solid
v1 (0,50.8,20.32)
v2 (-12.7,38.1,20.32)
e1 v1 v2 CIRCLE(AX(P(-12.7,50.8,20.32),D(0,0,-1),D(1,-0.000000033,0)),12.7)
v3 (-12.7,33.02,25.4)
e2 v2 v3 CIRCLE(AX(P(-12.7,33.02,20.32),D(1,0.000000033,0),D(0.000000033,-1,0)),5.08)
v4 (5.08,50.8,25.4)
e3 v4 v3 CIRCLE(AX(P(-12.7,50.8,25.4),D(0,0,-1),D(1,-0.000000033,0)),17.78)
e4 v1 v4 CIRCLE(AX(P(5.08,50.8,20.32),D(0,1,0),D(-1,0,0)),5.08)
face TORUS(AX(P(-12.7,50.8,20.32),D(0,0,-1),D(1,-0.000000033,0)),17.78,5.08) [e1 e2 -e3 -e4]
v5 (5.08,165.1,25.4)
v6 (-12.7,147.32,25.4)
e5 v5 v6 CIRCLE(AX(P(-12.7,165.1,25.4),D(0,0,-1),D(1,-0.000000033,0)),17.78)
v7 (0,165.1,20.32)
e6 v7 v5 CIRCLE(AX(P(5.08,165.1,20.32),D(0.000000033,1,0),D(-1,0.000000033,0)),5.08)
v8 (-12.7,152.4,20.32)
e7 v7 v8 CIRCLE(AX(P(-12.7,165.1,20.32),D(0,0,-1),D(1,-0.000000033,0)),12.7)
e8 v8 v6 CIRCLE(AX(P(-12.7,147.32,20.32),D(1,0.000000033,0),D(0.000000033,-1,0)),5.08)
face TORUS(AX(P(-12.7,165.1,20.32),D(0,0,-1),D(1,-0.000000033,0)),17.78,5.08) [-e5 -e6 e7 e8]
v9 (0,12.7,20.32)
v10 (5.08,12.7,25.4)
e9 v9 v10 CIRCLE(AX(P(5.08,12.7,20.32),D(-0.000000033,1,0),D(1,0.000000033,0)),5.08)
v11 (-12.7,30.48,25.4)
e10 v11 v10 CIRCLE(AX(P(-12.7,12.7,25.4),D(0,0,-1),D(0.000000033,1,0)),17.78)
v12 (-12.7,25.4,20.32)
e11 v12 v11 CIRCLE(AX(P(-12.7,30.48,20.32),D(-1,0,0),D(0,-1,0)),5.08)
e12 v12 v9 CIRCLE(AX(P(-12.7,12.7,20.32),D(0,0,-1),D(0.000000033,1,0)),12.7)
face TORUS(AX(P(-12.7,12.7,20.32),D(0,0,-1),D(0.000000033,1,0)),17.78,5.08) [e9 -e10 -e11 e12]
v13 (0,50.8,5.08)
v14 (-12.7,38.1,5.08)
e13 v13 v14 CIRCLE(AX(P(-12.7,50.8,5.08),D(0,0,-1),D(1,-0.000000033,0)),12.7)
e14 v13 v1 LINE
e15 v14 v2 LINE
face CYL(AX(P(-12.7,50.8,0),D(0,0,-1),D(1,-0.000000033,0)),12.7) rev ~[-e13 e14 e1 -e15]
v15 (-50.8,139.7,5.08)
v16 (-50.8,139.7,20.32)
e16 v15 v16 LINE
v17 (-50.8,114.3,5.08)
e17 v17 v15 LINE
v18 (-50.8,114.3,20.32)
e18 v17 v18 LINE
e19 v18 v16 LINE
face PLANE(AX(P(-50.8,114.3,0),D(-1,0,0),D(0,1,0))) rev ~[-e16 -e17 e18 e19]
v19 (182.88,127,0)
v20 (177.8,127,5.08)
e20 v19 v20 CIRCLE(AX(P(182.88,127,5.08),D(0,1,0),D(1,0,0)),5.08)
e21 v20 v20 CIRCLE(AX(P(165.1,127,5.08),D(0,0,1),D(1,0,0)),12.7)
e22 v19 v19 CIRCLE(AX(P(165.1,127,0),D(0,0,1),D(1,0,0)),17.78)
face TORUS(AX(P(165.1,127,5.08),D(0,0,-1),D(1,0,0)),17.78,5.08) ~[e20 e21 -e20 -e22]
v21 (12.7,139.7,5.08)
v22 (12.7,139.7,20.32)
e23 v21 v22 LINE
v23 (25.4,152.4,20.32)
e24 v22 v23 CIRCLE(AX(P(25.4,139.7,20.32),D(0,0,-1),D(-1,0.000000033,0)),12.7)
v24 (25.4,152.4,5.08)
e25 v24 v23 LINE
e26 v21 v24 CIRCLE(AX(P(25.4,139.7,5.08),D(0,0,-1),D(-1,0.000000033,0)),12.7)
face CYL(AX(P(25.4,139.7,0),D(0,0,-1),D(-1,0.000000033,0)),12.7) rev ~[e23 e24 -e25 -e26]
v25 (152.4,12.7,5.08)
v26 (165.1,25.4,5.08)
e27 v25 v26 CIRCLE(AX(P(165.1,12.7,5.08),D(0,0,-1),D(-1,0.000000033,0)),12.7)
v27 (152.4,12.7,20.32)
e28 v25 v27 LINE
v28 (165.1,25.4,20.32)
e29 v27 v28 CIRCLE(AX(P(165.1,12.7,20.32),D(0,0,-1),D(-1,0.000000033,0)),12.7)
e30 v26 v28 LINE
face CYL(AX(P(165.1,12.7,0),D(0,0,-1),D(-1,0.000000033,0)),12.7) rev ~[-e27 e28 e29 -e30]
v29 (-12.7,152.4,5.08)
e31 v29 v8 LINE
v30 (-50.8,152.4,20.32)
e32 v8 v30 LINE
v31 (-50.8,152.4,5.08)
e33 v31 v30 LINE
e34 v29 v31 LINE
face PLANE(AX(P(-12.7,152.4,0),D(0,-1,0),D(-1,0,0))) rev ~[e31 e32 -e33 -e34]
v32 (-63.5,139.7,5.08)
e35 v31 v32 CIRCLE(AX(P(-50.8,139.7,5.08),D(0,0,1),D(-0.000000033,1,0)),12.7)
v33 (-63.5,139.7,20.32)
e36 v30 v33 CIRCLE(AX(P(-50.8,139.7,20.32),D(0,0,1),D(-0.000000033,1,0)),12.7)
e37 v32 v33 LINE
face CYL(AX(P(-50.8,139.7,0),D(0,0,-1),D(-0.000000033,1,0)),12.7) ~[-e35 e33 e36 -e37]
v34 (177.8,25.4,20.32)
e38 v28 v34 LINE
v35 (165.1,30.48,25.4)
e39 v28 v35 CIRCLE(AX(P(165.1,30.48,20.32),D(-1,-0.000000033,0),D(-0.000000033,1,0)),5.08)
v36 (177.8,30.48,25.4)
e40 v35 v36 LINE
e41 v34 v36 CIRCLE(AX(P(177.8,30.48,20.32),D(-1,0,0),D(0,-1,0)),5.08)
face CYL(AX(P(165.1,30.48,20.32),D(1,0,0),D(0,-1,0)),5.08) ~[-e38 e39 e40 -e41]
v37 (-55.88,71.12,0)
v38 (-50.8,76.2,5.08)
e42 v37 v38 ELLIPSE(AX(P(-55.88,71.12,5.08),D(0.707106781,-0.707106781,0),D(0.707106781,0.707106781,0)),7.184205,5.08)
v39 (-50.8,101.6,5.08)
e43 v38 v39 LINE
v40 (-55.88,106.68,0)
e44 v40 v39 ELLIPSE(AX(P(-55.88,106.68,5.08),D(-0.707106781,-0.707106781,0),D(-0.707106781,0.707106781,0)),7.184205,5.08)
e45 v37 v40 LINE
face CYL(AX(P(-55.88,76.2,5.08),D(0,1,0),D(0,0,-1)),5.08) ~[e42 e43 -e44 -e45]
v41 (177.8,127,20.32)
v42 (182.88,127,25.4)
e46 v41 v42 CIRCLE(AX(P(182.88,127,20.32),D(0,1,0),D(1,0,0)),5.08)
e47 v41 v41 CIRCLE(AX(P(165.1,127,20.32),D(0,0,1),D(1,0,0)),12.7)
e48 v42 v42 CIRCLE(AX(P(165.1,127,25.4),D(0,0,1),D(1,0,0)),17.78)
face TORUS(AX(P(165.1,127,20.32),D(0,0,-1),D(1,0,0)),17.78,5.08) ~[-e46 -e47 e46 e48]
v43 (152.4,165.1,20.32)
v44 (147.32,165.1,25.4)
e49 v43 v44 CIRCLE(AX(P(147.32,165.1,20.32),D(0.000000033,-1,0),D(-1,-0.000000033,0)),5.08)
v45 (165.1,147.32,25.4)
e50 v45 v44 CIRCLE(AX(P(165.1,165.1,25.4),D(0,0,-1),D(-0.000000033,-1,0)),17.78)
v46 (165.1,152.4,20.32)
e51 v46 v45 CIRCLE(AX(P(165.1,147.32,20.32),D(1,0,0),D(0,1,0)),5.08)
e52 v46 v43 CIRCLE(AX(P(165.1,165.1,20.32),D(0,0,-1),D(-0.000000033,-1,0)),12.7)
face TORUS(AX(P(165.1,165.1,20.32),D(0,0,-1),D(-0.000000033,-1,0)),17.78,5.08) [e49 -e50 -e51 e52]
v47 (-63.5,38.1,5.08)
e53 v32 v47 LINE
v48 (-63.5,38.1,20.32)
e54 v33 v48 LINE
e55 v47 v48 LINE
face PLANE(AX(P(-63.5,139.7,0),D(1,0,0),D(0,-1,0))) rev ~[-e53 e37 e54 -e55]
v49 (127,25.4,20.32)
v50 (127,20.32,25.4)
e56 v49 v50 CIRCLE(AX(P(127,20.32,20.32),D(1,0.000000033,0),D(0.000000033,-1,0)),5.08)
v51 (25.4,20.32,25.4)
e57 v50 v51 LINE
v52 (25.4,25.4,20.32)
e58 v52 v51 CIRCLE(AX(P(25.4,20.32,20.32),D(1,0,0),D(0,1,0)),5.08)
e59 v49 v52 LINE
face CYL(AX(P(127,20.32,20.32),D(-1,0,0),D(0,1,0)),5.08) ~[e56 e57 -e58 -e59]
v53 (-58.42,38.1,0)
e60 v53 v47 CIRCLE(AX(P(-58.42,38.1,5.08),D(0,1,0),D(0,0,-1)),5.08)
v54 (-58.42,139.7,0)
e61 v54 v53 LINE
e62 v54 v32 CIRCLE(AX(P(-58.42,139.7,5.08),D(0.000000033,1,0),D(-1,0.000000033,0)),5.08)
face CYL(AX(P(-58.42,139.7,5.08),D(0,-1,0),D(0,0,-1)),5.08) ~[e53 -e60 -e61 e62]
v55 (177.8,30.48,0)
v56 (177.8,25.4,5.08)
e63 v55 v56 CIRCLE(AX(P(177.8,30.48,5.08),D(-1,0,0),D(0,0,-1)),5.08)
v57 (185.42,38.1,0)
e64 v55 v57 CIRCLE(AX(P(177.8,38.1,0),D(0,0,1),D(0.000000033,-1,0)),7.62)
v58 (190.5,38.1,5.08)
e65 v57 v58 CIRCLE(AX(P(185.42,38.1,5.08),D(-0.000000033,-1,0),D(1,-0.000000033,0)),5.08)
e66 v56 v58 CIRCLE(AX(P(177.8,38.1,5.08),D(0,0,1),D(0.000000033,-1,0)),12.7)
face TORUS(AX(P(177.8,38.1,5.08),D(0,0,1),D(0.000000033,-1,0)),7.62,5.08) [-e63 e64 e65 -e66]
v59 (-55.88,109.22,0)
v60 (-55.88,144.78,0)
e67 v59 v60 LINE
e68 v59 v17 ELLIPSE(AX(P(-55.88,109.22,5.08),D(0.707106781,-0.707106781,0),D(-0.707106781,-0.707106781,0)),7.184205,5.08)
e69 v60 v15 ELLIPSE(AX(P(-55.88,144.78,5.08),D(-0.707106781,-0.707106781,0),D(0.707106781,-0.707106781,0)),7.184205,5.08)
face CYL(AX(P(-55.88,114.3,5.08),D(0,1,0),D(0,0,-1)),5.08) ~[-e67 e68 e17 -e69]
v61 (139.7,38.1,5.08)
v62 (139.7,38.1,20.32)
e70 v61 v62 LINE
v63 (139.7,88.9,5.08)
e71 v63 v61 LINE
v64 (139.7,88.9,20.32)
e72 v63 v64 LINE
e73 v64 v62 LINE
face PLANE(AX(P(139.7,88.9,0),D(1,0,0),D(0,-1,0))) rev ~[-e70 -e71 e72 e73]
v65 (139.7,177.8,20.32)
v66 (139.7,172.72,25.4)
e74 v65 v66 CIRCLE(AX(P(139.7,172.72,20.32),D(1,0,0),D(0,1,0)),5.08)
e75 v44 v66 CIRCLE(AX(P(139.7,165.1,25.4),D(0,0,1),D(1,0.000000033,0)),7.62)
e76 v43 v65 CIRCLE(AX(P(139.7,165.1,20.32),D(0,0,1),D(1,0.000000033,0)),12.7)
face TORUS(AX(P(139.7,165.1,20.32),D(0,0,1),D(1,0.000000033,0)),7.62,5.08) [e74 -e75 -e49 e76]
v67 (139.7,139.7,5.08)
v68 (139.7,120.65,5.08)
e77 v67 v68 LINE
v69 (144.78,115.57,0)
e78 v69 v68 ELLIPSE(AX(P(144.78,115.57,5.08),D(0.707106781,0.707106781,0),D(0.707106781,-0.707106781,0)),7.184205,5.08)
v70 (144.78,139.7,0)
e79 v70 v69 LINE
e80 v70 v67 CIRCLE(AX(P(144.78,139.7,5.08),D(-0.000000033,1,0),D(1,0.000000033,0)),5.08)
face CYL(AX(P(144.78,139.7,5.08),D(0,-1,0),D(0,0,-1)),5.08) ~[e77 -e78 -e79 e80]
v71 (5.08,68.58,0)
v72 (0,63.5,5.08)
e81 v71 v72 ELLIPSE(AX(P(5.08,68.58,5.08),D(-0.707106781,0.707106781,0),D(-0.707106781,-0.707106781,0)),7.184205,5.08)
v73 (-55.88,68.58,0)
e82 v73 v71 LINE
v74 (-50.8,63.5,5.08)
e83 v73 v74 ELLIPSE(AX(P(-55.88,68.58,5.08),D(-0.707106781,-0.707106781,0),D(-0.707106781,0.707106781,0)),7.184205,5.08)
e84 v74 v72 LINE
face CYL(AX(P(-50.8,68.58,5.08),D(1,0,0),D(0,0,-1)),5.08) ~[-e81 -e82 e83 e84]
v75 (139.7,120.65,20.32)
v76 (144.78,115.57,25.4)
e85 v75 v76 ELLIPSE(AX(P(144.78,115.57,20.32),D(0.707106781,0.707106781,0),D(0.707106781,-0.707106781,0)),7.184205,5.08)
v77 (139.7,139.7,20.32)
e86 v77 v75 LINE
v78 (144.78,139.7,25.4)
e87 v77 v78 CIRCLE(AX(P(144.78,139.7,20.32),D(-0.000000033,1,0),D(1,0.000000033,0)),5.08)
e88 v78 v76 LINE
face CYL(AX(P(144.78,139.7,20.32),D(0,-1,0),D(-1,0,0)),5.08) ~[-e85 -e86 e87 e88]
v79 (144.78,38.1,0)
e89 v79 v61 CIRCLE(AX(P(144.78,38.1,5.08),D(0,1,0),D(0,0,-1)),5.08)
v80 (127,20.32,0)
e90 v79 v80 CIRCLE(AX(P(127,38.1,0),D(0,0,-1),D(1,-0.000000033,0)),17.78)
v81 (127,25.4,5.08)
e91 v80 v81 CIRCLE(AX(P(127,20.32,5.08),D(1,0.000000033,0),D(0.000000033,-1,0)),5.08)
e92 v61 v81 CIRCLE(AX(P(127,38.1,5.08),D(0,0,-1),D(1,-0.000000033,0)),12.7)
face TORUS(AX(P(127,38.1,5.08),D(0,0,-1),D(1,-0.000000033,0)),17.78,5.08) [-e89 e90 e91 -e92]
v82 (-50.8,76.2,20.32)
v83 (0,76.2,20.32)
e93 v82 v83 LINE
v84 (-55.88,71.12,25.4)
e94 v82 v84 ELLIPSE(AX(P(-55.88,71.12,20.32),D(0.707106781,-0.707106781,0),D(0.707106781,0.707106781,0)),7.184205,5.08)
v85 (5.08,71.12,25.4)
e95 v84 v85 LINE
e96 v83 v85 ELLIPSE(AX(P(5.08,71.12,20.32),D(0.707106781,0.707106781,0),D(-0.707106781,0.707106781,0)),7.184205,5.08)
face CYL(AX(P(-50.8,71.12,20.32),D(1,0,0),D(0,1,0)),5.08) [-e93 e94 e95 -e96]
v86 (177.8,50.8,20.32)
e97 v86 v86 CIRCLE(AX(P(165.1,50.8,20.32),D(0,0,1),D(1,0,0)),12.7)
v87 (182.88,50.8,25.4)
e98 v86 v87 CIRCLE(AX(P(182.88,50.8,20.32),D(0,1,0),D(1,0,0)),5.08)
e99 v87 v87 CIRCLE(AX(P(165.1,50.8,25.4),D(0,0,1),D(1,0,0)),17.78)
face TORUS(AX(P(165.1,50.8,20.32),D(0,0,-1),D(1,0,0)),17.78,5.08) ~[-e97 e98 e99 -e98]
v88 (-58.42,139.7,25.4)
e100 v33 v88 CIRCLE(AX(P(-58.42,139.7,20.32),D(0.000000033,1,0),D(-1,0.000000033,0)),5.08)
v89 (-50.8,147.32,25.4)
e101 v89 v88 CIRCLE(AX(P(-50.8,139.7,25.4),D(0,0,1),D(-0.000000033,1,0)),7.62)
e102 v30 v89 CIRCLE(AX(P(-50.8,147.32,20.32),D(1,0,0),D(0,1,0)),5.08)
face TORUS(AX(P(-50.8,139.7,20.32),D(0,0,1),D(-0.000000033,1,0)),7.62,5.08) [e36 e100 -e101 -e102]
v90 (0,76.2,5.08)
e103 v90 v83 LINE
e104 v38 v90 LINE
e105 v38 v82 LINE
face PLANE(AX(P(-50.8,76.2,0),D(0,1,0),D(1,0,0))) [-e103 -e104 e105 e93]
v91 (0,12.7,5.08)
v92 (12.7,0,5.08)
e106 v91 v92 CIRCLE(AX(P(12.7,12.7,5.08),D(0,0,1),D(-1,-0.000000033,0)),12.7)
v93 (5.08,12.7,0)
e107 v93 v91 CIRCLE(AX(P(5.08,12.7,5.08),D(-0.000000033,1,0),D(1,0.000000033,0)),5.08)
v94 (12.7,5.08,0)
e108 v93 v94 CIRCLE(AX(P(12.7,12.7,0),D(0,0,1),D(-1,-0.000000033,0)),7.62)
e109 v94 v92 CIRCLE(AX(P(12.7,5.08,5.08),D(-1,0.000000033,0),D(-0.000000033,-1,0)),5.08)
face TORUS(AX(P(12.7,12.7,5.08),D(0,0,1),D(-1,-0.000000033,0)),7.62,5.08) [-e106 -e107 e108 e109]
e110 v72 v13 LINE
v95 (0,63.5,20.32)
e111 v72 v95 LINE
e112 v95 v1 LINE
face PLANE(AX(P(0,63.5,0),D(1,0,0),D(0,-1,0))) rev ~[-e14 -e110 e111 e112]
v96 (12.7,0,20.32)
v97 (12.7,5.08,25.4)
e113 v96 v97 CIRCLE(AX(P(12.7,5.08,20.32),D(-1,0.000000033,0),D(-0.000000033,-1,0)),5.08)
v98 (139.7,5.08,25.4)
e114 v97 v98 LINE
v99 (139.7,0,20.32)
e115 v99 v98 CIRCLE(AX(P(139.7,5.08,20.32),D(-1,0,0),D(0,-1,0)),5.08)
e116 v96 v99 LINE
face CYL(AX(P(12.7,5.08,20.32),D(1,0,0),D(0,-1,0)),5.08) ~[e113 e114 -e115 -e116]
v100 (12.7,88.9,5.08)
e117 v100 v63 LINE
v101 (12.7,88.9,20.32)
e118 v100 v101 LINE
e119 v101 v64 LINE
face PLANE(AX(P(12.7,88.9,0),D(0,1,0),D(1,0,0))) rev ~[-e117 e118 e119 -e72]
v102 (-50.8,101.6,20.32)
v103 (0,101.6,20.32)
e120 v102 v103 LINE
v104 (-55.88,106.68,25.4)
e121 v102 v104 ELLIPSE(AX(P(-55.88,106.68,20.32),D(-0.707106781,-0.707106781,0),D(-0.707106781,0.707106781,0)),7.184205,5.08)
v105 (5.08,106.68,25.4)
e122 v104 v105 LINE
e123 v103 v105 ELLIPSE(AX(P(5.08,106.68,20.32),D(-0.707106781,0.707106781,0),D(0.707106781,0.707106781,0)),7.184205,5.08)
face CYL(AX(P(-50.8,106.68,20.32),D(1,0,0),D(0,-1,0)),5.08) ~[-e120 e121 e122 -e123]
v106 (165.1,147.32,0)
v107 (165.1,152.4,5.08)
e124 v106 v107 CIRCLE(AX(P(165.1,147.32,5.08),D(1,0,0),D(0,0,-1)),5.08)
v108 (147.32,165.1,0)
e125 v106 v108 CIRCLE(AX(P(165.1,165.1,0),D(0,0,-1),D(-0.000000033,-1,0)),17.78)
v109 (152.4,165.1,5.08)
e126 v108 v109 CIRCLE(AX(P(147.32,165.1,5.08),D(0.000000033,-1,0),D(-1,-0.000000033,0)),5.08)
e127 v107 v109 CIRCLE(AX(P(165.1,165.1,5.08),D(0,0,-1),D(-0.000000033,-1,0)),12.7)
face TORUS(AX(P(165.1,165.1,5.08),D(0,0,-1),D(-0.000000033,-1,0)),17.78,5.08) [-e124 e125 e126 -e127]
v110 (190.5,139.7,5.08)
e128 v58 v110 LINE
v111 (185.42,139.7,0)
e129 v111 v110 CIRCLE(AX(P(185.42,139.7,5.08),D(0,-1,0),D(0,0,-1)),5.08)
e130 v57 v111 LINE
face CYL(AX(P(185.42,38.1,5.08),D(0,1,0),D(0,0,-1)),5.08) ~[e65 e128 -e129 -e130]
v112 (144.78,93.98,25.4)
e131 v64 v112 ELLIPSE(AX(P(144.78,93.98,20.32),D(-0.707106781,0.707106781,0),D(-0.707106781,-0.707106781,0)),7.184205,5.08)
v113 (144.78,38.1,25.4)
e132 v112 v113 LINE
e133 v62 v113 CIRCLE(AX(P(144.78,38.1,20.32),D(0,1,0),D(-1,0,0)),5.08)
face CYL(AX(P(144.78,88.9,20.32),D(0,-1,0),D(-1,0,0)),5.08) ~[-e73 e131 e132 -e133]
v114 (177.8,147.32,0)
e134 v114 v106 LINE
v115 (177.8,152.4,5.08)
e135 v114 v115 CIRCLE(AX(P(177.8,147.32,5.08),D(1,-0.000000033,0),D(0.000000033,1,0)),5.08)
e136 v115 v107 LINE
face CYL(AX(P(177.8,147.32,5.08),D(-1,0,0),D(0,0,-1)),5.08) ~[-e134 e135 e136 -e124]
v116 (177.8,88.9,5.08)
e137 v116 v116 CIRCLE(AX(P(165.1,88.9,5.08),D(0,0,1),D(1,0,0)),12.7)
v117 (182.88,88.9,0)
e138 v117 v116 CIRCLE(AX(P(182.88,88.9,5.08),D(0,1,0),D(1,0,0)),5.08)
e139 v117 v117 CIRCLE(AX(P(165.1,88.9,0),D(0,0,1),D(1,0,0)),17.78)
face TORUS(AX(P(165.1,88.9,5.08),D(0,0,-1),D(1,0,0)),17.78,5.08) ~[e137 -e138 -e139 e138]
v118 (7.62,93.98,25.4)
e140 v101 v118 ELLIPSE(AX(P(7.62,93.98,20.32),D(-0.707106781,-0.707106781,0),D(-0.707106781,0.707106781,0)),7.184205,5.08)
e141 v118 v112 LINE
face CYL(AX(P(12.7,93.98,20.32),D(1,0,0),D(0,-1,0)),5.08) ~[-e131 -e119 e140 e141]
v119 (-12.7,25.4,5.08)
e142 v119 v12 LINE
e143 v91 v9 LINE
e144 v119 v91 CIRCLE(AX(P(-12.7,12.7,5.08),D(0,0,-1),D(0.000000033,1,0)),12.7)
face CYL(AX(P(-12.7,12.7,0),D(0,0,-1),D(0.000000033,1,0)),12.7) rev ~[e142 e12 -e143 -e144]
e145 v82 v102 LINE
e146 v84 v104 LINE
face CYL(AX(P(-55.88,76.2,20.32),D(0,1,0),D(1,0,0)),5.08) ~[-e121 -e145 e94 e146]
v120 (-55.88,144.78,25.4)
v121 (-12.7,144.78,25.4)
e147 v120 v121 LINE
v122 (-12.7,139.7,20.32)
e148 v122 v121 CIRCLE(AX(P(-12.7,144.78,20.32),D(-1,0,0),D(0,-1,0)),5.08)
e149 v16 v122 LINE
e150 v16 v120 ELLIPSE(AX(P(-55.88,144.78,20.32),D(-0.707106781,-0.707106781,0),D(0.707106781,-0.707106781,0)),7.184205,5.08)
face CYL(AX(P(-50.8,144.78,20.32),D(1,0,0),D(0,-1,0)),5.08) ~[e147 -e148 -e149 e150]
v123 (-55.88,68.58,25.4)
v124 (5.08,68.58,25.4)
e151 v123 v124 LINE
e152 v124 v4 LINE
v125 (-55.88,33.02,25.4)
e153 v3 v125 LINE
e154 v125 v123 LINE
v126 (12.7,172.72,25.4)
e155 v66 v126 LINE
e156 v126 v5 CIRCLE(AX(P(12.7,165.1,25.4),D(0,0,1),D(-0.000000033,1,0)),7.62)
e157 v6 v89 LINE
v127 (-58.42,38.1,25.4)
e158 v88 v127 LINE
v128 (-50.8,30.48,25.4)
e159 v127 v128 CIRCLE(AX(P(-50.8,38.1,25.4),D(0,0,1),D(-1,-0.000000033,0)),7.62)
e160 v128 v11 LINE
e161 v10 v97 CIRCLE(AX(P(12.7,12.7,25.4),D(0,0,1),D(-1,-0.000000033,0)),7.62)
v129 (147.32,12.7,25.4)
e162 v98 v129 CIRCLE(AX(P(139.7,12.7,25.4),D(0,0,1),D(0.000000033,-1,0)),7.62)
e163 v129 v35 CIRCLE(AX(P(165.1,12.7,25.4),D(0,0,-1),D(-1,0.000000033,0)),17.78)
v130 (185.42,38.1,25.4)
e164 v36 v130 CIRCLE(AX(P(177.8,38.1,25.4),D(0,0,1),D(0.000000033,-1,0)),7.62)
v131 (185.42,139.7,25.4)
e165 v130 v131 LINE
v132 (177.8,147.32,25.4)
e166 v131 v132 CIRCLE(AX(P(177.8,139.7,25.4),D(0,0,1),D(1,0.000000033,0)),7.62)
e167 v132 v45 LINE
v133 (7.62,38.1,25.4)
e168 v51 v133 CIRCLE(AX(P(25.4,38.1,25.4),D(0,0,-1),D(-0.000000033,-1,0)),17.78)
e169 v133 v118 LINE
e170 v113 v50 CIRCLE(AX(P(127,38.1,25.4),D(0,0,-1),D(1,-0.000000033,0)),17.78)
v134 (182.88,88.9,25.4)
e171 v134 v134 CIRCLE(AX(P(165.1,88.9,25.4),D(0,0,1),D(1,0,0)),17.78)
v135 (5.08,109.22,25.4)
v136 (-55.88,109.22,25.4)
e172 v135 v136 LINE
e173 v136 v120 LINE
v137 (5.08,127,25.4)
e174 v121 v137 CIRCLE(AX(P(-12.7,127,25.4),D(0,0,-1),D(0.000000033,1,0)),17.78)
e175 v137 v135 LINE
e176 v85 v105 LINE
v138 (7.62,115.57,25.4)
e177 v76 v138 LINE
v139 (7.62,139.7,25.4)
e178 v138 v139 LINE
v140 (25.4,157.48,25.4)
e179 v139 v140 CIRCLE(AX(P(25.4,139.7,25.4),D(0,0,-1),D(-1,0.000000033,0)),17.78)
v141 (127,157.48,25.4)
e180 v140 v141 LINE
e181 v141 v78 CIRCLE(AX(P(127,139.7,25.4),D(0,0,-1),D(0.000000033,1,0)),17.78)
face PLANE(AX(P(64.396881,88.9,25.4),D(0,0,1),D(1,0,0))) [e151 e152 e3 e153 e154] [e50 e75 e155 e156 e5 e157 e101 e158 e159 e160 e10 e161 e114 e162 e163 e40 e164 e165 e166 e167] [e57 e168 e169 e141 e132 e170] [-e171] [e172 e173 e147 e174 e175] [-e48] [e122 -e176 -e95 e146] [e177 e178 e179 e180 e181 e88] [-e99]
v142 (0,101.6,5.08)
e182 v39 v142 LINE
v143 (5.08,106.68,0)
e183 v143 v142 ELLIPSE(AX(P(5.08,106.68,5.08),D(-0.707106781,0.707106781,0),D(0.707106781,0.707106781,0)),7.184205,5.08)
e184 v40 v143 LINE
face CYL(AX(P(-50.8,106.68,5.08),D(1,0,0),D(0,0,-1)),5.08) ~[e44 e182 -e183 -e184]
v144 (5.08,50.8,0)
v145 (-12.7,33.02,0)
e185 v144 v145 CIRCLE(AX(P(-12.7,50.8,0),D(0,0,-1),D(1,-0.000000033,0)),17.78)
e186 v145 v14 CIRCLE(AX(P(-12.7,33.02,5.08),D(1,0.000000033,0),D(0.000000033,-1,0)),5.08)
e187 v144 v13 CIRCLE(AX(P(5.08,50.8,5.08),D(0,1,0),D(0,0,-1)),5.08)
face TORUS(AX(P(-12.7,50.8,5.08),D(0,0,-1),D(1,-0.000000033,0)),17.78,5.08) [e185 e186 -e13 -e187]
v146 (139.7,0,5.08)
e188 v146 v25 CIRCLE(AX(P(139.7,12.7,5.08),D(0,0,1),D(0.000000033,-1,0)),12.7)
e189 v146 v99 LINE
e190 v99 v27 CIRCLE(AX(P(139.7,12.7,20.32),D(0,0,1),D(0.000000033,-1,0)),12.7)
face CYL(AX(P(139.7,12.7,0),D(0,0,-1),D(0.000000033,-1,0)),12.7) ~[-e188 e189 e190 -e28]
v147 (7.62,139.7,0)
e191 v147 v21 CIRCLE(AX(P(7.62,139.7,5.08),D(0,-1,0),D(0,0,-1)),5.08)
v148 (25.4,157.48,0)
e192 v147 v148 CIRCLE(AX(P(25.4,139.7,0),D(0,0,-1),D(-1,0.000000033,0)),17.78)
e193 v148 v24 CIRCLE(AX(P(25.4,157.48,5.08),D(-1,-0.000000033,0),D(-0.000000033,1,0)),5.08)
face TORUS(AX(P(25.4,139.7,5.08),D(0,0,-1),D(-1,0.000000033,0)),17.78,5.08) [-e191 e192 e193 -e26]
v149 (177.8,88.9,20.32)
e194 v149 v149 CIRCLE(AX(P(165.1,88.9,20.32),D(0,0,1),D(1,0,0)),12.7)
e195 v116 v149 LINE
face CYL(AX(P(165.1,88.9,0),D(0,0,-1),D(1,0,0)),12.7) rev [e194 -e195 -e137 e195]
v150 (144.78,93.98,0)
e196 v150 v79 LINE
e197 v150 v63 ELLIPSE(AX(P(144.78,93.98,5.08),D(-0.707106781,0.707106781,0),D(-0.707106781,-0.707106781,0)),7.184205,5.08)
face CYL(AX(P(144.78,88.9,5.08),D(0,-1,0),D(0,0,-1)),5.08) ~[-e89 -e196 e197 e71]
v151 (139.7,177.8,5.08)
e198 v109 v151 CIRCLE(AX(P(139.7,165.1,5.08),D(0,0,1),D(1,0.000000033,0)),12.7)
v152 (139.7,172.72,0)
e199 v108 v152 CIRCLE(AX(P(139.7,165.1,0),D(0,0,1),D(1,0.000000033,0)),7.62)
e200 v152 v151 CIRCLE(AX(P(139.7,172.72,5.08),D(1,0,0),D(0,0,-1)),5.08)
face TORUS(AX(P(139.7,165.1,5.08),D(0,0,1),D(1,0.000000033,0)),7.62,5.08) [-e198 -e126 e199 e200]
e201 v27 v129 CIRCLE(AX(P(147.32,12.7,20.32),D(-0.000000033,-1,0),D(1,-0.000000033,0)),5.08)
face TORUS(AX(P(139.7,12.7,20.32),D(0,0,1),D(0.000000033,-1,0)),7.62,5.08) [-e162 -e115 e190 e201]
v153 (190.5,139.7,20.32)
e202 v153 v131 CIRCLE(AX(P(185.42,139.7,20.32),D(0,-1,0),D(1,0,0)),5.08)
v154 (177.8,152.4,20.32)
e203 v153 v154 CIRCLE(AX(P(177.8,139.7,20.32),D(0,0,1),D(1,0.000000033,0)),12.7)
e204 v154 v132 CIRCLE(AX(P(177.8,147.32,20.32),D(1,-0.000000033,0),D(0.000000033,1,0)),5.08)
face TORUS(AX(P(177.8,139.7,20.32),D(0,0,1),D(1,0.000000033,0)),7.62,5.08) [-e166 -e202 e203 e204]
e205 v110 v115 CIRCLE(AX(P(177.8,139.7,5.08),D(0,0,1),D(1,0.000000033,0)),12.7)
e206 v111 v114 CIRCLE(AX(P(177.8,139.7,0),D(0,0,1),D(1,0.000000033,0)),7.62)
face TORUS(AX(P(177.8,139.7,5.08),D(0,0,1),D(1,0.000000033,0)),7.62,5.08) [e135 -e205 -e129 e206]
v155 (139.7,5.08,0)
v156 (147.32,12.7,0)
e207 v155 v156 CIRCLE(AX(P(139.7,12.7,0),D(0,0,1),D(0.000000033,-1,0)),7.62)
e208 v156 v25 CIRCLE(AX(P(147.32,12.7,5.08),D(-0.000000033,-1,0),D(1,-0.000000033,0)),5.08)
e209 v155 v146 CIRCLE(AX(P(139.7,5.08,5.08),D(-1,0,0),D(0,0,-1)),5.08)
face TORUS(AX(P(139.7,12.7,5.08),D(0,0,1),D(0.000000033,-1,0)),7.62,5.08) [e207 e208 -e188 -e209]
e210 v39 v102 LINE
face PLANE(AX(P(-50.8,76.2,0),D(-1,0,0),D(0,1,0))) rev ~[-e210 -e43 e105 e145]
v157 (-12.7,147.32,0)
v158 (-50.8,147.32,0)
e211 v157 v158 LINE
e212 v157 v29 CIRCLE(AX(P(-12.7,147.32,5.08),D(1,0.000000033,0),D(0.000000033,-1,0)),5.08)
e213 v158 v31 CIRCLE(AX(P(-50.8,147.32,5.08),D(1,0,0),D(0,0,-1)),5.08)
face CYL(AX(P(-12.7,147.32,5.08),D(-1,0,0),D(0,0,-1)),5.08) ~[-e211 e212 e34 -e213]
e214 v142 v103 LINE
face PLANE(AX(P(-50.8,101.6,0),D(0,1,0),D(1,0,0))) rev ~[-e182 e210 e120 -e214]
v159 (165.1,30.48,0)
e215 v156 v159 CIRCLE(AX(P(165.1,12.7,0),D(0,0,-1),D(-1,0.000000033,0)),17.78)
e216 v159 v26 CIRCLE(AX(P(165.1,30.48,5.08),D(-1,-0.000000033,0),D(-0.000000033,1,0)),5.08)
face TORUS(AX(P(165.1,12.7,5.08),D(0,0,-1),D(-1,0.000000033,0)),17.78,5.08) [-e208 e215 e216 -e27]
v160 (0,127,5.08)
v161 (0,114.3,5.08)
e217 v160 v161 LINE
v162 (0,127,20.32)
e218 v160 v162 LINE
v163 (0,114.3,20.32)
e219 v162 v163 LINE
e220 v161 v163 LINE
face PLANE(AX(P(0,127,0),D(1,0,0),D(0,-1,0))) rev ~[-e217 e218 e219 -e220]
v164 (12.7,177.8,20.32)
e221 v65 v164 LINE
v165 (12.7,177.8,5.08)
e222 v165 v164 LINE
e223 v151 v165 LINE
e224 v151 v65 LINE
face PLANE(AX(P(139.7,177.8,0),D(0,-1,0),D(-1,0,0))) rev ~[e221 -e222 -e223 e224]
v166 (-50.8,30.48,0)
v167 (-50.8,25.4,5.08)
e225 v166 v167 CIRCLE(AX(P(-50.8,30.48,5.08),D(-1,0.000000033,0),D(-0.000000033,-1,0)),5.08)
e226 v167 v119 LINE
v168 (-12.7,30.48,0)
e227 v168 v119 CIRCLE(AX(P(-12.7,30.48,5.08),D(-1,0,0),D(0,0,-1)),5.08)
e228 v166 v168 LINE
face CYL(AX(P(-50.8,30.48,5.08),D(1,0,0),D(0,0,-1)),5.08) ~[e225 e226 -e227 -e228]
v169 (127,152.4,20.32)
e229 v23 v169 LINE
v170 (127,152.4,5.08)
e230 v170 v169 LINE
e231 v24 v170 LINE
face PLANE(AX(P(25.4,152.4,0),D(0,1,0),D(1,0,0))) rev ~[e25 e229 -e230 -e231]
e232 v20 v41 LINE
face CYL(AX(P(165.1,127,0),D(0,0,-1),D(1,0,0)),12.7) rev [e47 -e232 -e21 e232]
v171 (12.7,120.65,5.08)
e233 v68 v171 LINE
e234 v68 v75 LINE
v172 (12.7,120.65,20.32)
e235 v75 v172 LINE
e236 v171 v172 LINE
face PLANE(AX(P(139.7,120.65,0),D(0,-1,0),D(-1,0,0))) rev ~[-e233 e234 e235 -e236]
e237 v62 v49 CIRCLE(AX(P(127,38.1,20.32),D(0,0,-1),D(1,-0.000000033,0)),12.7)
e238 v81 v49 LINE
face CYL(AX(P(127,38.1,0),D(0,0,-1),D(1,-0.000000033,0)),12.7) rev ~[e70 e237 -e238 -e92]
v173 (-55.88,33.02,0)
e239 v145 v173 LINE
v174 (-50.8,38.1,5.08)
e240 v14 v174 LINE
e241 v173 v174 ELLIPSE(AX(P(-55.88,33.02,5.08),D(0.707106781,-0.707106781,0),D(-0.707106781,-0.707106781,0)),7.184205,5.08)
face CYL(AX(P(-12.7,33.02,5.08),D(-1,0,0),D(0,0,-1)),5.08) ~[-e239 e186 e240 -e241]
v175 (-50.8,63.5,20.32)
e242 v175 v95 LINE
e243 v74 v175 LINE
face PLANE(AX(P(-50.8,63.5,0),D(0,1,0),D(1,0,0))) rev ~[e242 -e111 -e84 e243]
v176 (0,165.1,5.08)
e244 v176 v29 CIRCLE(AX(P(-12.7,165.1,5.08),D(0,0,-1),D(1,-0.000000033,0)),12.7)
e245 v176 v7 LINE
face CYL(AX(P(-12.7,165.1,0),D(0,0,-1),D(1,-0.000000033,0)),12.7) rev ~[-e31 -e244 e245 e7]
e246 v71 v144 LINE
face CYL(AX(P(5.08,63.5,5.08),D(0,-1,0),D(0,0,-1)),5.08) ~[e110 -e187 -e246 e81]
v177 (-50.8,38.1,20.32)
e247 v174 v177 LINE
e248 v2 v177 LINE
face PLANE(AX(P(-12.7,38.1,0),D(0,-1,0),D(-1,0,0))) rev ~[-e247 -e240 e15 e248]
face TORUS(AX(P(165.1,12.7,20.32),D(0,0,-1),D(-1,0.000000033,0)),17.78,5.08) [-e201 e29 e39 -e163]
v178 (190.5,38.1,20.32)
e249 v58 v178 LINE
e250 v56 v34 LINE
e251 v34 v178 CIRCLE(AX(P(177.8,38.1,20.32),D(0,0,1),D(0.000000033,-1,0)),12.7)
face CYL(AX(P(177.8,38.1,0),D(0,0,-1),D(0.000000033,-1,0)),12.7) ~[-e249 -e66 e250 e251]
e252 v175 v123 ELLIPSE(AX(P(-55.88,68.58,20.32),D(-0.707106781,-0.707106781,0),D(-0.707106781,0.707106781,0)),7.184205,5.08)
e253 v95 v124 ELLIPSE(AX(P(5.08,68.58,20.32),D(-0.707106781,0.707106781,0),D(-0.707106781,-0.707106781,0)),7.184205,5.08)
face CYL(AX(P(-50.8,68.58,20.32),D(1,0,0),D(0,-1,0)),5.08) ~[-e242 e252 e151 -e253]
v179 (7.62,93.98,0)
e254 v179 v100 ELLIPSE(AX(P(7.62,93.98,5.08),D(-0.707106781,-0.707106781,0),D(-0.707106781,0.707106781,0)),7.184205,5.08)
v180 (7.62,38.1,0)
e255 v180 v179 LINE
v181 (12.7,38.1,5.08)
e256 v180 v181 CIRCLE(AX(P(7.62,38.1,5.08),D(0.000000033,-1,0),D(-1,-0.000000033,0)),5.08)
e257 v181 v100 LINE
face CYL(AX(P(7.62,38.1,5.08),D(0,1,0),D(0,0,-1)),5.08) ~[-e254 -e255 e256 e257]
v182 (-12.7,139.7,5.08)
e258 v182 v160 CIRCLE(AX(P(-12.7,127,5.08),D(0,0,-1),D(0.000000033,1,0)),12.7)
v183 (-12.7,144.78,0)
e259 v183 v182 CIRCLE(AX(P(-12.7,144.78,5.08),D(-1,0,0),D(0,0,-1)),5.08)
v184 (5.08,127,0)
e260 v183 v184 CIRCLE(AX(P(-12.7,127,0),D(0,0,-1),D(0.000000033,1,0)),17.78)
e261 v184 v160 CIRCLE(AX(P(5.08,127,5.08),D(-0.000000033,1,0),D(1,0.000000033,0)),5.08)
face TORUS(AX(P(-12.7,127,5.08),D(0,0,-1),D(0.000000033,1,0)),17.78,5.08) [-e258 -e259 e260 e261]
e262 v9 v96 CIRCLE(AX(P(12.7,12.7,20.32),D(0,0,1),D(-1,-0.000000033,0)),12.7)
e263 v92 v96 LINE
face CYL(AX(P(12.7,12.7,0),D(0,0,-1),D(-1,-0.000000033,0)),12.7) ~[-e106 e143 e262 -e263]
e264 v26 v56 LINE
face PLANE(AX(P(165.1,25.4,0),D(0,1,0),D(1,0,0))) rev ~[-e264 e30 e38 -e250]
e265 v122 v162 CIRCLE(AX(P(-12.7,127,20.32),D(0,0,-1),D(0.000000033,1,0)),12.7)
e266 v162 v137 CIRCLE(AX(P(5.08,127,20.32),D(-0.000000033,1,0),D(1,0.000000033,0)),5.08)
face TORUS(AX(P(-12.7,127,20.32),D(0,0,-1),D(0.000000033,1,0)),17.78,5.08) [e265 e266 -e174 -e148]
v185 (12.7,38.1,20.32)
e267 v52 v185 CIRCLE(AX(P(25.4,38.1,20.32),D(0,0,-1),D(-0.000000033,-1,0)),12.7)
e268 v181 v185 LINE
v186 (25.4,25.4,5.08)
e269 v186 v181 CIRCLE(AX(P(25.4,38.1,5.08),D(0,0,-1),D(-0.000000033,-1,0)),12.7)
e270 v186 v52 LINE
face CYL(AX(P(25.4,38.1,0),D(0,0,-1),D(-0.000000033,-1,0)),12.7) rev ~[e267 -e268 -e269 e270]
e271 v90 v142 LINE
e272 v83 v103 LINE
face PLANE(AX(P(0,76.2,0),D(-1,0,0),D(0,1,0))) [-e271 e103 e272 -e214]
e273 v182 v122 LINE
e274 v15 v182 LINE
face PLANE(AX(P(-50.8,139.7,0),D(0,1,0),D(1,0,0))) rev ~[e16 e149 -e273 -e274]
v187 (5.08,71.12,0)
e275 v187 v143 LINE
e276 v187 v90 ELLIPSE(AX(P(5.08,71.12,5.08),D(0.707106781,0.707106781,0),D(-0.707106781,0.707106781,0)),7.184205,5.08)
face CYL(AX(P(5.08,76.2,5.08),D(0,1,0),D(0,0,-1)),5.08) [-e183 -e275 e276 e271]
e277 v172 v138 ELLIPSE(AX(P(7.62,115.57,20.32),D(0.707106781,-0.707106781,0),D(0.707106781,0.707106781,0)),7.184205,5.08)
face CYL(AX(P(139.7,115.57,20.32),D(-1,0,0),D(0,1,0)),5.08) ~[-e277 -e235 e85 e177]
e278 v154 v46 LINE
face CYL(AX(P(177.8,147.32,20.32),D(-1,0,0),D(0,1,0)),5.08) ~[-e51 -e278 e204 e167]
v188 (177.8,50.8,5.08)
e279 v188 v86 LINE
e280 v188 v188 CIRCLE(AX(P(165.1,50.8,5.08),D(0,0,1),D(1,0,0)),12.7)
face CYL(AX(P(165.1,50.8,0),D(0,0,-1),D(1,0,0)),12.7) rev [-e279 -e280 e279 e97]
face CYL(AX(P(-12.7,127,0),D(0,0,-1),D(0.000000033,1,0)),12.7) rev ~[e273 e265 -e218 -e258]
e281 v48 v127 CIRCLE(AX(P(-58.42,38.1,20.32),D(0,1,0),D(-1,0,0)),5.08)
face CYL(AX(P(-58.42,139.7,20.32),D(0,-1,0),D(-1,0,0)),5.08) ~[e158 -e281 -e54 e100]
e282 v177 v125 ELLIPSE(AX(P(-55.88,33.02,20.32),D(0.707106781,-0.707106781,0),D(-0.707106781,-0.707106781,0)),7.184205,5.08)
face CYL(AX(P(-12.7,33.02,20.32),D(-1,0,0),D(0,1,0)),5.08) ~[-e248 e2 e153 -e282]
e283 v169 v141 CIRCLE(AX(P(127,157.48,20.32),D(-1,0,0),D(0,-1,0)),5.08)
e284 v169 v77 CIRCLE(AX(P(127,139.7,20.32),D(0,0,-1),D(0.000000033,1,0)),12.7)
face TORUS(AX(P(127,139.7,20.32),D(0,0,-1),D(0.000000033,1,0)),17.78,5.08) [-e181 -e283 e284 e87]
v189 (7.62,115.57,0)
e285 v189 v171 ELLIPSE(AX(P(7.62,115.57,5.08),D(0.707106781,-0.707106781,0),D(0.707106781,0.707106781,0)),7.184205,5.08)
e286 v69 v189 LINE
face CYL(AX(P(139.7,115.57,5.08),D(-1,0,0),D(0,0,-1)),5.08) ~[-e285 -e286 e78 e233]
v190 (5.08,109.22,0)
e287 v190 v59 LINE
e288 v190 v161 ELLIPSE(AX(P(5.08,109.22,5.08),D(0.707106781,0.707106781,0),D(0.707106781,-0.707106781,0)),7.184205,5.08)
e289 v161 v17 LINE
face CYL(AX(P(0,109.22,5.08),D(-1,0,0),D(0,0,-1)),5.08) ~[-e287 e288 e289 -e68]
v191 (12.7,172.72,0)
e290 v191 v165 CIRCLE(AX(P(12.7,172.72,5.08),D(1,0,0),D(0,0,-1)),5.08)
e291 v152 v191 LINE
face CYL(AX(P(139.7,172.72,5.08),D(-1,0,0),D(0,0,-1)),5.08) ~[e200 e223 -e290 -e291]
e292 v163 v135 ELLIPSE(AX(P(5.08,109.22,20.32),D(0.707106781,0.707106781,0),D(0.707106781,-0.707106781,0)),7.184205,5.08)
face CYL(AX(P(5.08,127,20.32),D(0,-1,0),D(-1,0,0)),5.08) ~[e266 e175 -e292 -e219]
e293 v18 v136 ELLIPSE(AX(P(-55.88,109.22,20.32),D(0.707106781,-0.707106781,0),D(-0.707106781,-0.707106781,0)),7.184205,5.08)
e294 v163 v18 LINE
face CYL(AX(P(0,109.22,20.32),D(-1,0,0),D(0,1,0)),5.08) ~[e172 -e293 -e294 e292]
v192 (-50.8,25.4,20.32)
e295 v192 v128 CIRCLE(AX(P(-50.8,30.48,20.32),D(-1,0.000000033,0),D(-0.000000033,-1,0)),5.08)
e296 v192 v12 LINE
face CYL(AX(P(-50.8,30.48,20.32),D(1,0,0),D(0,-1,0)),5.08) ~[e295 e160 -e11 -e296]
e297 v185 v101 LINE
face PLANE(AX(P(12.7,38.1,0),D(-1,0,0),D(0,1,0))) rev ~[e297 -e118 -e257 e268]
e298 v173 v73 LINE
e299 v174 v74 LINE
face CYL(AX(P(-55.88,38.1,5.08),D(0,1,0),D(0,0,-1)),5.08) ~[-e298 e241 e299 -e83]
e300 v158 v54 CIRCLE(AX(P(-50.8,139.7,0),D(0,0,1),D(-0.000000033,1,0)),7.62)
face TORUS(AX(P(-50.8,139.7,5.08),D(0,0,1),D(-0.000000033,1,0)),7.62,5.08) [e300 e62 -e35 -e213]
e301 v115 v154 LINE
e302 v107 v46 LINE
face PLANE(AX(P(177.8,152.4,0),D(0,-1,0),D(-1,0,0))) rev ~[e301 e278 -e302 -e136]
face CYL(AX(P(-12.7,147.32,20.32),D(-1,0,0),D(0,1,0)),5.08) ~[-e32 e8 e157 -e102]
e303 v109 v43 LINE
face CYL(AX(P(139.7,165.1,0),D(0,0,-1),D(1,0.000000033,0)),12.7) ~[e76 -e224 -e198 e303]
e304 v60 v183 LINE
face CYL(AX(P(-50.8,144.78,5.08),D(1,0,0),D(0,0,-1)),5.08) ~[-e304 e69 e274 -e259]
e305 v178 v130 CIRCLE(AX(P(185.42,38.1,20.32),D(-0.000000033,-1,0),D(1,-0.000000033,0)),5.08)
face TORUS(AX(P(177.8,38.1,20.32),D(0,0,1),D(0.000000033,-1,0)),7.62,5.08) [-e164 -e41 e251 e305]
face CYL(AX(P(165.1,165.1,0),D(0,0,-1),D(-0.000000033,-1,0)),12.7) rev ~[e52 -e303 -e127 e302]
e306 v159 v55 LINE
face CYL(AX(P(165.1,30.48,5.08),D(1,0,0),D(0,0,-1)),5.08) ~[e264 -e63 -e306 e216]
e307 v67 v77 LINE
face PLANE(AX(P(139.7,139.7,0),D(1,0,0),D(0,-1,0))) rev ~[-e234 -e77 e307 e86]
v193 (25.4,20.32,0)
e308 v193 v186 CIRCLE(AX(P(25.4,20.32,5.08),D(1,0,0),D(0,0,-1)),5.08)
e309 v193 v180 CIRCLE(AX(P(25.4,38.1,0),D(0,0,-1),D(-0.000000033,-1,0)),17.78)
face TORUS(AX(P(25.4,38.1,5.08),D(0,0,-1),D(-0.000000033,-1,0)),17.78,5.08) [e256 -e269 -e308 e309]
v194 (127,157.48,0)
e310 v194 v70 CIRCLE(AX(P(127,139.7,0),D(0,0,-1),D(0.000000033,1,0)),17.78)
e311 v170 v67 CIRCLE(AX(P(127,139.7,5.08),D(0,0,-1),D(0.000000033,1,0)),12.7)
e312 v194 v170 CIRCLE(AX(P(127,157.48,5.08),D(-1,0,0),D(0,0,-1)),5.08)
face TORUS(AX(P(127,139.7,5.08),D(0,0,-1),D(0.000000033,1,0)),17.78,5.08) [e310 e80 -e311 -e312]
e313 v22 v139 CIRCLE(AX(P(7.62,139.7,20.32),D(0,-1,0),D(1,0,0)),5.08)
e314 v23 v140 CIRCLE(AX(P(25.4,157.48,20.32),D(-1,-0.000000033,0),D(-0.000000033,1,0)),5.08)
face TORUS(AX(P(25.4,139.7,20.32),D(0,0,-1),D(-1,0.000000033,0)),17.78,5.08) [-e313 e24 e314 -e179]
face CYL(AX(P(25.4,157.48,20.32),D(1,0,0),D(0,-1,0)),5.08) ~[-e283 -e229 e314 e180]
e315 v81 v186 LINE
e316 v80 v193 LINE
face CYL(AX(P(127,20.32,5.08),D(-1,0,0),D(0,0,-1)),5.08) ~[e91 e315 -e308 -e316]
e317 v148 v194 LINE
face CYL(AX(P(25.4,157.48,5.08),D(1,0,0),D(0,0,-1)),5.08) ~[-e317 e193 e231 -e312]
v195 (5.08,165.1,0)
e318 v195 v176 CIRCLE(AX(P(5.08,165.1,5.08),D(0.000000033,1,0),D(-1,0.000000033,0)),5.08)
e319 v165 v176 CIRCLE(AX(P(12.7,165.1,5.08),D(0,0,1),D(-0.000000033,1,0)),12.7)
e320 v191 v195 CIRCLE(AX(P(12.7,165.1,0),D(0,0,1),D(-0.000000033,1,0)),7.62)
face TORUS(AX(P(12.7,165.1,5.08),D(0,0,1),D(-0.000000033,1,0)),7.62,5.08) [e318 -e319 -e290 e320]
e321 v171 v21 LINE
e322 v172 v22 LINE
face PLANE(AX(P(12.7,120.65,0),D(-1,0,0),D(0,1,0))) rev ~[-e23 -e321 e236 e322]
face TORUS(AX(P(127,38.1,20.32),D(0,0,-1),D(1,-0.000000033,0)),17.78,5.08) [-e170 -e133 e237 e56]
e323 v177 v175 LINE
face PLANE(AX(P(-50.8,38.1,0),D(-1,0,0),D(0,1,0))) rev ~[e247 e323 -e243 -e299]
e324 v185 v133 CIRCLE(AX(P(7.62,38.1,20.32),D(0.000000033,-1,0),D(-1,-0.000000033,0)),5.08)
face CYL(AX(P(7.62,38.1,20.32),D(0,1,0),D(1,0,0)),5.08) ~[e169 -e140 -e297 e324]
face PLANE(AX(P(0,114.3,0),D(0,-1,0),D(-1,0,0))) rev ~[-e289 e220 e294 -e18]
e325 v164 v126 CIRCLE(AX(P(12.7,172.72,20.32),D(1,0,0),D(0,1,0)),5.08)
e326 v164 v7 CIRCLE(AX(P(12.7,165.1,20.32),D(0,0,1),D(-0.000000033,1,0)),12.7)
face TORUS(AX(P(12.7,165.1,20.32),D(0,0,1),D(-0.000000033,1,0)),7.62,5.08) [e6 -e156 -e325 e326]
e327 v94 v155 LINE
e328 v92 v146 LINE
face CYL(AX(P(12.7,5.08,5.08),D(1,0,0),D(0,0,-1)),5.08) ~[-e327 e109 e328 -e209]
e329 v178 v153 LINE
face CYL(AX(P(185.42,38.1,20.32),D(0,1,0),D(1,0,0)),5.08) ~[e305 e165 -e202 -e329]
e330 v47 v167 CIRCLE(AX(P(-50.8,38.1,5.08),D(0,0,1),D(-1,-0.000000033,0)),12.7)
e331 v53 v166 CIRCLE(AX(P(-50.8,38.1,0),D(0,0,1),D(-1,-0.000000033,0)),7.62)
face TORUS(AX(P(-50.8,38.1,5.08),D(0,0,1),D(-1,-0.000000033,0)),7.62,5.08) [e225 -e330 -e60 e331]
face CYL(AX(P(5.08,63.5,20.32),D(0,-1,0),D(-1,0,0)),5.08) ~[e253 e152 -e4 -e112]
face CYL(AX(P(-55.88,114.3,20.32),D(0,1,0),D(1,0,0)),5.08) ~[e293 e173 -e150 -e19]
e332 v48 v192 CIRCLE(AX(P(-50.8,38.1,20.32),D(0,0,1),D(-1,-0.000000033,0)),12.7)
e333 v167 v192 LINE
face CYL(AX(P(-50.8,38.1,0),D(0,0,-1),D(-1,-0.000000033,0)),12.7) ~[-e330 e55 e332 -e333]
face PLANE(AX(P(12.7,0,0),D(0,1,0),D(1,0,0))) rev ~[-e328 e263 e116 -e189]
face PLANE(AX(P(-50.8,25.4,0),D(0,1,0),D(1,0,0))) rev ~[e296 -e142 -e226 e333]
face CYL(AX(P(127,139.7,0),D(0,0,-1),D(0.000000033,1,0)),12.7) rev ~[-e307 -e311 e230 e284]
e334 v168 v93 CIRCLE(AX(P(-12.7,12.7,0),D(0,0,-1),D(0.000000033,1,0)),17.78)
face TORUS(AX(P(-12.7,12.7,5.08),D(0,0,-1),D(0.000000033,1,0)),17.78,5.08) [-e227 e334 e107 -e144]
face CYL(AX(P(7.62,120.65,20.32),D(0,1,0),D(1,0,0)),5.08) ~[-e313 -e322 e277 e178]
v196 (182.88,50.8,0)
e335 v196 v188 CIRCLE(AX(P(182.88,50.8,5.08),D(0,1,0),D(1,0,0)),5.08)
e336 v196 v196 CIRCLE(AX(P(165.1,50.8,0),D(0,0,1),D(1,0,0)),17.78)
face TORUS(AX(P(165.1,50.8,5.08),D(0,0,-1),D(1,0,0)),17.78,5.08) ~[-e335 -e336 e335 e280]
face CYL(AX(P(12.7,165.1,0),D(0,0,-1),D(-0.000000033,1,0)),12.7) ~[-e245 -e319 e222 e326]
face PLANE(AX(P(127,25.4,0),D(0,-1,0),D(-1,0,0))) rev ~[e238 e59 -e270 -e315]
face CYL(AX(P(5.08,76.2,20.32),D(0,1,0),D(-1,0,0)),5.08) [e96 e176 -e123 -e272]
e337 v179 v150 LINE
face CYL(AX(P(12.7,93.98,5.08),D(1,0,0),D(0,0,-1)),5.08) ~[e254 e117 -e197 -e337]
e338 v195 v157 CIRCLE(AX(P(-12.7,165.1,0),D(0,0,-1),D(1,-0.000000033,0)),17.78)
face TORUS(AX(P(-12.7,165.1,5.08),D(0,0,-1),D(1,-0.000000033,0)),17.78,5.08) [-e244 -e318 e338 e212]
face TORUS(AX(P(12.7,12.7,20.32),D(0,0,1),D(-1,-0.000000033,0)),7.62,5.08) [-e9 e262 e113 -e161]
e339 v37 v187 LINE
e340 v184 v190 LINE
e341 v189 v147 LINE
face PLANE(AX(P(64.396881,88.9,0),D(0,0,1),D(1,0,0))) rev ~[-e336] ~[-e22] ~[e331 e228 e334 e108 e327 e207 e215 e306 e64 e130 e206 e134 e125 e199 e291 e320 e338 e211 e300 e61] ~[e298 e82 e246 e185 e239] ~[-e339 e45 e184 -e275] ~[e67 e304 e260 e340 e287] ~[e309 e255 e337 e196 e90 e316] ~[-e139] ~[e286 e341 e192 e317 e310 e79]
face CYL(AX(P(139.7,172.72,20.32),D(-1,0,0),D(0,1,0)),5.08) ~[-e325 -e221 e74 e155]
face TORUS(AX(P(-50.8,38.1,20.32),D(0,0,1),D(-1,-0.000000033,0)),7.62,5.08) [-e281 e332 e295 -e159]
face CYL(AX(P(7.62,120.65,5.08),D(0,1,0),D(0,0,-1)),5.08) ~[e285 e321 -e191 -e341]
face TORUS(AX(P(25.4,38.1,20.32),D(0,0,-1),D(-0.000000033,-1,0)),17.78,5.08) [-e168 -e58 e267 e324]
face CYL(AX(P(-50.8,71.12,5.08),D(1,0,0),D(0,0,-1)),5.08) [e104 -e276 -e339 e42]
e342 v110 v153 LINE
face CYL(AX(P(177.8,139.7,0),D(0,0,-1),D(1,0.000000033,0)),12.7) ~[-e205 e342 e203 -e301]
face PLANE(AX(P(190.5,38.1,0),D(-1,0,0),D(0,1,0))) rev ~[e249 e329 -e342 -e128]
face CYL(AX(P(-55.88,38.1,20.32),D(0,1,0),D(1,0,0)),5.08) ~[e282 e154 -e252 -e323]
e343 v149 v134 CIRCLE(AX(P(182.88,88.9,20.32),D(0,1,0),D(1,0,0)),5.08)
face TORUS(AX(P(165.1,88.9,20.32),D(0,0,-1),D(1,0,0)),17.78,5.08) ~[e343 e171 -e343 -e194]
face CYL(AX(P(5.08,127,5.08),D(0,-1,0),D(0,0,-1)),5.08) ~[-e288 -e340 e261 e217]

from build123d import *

# Parameters (mm, degrees)
F0_W     = 50.8
F0_H     = 25.4
F0_R     = 12.7
F1_DEPTH = 25.4
F2_R     = 5.08
F3_R     = 5.08


with BuildPart() as f1:
    # F0 (on Top) → F1 (new body)
    with BuildSketch(Plane.XY):
        with BuildLine():
            Line((-50.8, 25.4), (-12.7, 25.4))
            ThreePointArc((-12.7, 25.4), (-3.719744, 21.680256), (0, 12.7))
            ThreePointArc((0, 12.7), (3.719744, 3.719744), (12.7, 0))
            Line((12.7, 0), (139.7, 0))
            ThreePointArc((139.7, 0), (148.680256, 3.719744), (152.4, 12.7))
            ThreePointArc((152.4, 12.7), (156.119744, 21.680256), (165.1, 25.4))
            Line((165.1, 25.4), (177.8, 25.4))
            ThreePointArc((177.8, 25.4), (186.780256, 29.119744), (190.5, 38.1))
            Line((190.5, 38.1), (190.5, 139.7))
            ThreePointArc((190.5, 139.7), (186.780256, 148.680256), (177.8, 152.4))
            Line((177.8, 152.4), (165.1, 152.4))
            ThreePointArc((165.1, 152.4), (156.119744, 156.119744), (152.4, 165.1))
            ThreePointArc((152.4, 165.1), (148.680256, 174.080256), (139.7, 177.8))
            Line((139.7, 177.8), (12.7, 177.8))
            ThreePointArc((12.7, 177.8), (3.719744, 174.080256), (0, 165.1))
            ThreePointArc((0, 165.1), (-3.719744, 156.119744), (-12.7, 152.4))
            Line((-12.7, 152.4), (-50.8, 152.4))
            ThreePointArc((-50.8, 152.4), (-59.780256, 148.680256), (-63.5, 139.7))
            Line((-63.5, 139.7), (-63.5, 38.1))
            ThreePointArc((-63.5, 38.1), (-59.780256, 29.119744), (-50.8, 25.4))
        make_face()
        with BuildLine():
            Line((-12.7, 38.1), (-50.8, 38.1))
            Line((-50.8, 38.1), (-50.8, 63.5))
            Line((-50.8, 63.5), (0, 63.5))
            Line((0, 63.5), (0, 50.8))
            ThreePointArc((0, 50.8), (-3.719744, 41.819744), (-12.7, 38.1))
        make_face(mode=Mode.SUBTRACT)
        with Locations((-25.4, 88.9)):
            Rectangle(F0_W, F0_H, mode=Mode.SUBTRACT)
        with BuildLine():
            Line((12.7, 38.1), (12.7, 88.9))
            Line((12.7, 88.9), (139.7, 88.9))
            Line((139.7, 88.9), (139.7, 38.1))
            ThreePointArc((139.7, 38.1), (135.980256, 29.119744), (127, 25.4))
            Line((127, 25.4), (25.4, 25.4))
            ThreePointArc((25.4, 25.4), (16.419744, 29.119744), (12.7, 38.1))
        make_face(mode=Mode.SUBTRACT)
        with Locations((165.1, 50.8)):
            Circle(F0_R, mode=Mode.SUBTRACT)
        with Locations((165.1, 88.9)):
            Circle(F0_R, mode=Mode.SUBTRACT)
        with BuildLine():
            Line((-50.8, 114.3), (-50.8, 139.7))
            Line((-50.8, 139.7), (-12.7, 139.7))
            ThreePointArc((-12.7, 139.7), (-3.719744, 135.980256), (0, 127))
            Line((0, 127), (0, 114.3))
            Line((0, 114.3), (-50.8, 114.3))
        make_face(mode=Mode.SUBTRACT)
        with Locations((165.1, 127)):
            Circle(F0_R, mode=Mode.SUBTRACT)
        with BuildLine():
            Line((139.7, 120.65), (12.7, 120.65))
            Line((12.7, 120.65), (12.7, 139.7))
            ThreePointArc((12.7, 139.7), (16.419744, 148.680256), (25.4, 152.4))
            Line((25.4, 152.4), (127, 152.4))
            ThreePointArc((127, 152.4), (135.980256, 148.680256), (139.7, 139.7))
            Line((139.7, 139.7), (139.7, 120.65))
        make_face(mode=Mode.SUBTRACT)
    extrude(amount=F1_DEPTH)

    # F2
    f2_edges = [f1.edges().sort_by_distance(p)[0] for p in [
        (76.2, 177.8, 25.4),
        (3.719744, 174.080256, 25.4),
        (-3.719744, 156.119744, 25.4),
        (-31.75, 152.4, 25.4),
        (-59.780256, 148.680256, 25.4),
        (-63.5, 88.9, 25.4),
        (-59.780256, 29.119744, 25.4),
        (-31.75, 25.4, 25.4),
        (-3.719744, 21.680256, 25.4),
        (3.719744, 3.719744, 25.4),
        (76.2, 0, 25.4),
        (148.680256, 3.719744, 25.4),
        (156.119744, 21.680256, 25.4),
        (171.45, 25.4, 25.4),
        (186.780256, 29.119744, 25.4),
        (190.5, 88.9, 25.4),
        (186.780256, 148.680256, 25.4),
        (171.45, 152.4, 25.4),
        (156.119744, 156.119744, 25.4),
        (148.680256, 174.080256, 25.4),
        (-31.75, 38.1, 25.4),
        (-50.8, 50.8, 25.4),
        (-25.4, 63.5, 25.4),
        (0, 57.15, 25.4),
        (-3.719744, 41.819744, 25.4),
        (-50.8, 88.9, 25.4),
        (-25.4, 101.6, 25.4),
        (0, 88.9, 25.4),
        (-25.4, 76.2, 25.4),
        (12.7, 63.5, 25.4),
        (76.2, 88.9, 25.4),
        (139.7, 63.5, 25.4),
        (135.980256, 29.119744, 25.4),
        (76.2, 25.4, 25.4),
        (16.419744, 29.119744, 25.4),
        (152.4, 50.8, 25.4),
        (152.4, 88.9, 25.4),
        (0, 120.65, 25.4),
        (-25.4, 114.3, 25.4),
        (-50.8, 127, 25.4),
        (-31.75, 139.7, 25.4),
        (-3.719744, 135.980256, 25.4),
        (152.4, 127, 25.4),
        (139.7, 130.175, 25.4),
        (76.2, 120.65, 25.4),
        (12.7, 130.175, 25.4),
        (16.419744, 148.680256, 25.4),
        (76.2, 152.4, 25.4),
        (135.980256, 148.680256, 25.4),
    ]]
    fillet(f2_edges, radius=F2_R)

    # F3
    f3_edges = [f1.edges().sort_by_distance(p)[0] for p in [
        (76.2, 177.8, 0),
        (3.719744, 174.080256, 0),
        (-3.719744, 156.119744, 0),
        (-31.75, 152.4, 0),
        (-59.780256, 148.680256, 0),
        (-63.5, 88.9, 0),
        (-59.780256, 29.119744, 0),
        (-31.75, 25.4, 0),
        (-3.719744, 21.680256, 0),
        (3.719744, 3.719744, 0),
        (76.2, 0, 0),
        (148.680256, 3.719744, 0),
        (156.119744, 21.680256, 0),
        (171.45, 25.4, 0),
        (186.780256, 29.119744, 0),
        (190.5, 88.9, 0),
        (186.780256, 148.680256, 0),
        (171.45, 152.4, 0),
        (156.119744, 156.119744, 0),
        (148.680256, 174.080256, 0),
        (-31.75, 38.1, 0),
        (-50.8, 50.8, 0),
        (-25.4, 63.5, 0),
        (0, 57.15, 0),
        (-3.719744, 41.819744, 0),
        (-50.8, 88.9, 0),
        (-25.4, 101.6, 0),
        (0, 88.9, 0),
        (-25.4, 76.2, 0),
        (12.7, 63.5, 0),
        (76.2, 88.9, 0),
        (139.7, 63.5, 0),
        (135.980256, 29.119744, 0),
        (76.2, 25.4, 0),
        (16.419744, 29.119744, 0),
        (152.4, 50.8, 0),
        (152.4, 88.9, 0),
        (0, 120.65, 0),
        (-25.4, 114.3, 0),
        (-50.8, 127, 0),
        (-31.75, 139.7, 0),
        (-3.719744, 135.980256, 0),
        (152.4, 127, 0),
        (139.7, 130.175, 0),
        (76.2, 120.65, 0),
        (12.7, 130.175, 0),
        (16.419744, 148.680256, 0),
        (76.2, 152.4, 0),
        (135.980256, 148.680256, 0),
    ]]
    fillet(f3_edges, radius=F3_R)


solid = f1.part
